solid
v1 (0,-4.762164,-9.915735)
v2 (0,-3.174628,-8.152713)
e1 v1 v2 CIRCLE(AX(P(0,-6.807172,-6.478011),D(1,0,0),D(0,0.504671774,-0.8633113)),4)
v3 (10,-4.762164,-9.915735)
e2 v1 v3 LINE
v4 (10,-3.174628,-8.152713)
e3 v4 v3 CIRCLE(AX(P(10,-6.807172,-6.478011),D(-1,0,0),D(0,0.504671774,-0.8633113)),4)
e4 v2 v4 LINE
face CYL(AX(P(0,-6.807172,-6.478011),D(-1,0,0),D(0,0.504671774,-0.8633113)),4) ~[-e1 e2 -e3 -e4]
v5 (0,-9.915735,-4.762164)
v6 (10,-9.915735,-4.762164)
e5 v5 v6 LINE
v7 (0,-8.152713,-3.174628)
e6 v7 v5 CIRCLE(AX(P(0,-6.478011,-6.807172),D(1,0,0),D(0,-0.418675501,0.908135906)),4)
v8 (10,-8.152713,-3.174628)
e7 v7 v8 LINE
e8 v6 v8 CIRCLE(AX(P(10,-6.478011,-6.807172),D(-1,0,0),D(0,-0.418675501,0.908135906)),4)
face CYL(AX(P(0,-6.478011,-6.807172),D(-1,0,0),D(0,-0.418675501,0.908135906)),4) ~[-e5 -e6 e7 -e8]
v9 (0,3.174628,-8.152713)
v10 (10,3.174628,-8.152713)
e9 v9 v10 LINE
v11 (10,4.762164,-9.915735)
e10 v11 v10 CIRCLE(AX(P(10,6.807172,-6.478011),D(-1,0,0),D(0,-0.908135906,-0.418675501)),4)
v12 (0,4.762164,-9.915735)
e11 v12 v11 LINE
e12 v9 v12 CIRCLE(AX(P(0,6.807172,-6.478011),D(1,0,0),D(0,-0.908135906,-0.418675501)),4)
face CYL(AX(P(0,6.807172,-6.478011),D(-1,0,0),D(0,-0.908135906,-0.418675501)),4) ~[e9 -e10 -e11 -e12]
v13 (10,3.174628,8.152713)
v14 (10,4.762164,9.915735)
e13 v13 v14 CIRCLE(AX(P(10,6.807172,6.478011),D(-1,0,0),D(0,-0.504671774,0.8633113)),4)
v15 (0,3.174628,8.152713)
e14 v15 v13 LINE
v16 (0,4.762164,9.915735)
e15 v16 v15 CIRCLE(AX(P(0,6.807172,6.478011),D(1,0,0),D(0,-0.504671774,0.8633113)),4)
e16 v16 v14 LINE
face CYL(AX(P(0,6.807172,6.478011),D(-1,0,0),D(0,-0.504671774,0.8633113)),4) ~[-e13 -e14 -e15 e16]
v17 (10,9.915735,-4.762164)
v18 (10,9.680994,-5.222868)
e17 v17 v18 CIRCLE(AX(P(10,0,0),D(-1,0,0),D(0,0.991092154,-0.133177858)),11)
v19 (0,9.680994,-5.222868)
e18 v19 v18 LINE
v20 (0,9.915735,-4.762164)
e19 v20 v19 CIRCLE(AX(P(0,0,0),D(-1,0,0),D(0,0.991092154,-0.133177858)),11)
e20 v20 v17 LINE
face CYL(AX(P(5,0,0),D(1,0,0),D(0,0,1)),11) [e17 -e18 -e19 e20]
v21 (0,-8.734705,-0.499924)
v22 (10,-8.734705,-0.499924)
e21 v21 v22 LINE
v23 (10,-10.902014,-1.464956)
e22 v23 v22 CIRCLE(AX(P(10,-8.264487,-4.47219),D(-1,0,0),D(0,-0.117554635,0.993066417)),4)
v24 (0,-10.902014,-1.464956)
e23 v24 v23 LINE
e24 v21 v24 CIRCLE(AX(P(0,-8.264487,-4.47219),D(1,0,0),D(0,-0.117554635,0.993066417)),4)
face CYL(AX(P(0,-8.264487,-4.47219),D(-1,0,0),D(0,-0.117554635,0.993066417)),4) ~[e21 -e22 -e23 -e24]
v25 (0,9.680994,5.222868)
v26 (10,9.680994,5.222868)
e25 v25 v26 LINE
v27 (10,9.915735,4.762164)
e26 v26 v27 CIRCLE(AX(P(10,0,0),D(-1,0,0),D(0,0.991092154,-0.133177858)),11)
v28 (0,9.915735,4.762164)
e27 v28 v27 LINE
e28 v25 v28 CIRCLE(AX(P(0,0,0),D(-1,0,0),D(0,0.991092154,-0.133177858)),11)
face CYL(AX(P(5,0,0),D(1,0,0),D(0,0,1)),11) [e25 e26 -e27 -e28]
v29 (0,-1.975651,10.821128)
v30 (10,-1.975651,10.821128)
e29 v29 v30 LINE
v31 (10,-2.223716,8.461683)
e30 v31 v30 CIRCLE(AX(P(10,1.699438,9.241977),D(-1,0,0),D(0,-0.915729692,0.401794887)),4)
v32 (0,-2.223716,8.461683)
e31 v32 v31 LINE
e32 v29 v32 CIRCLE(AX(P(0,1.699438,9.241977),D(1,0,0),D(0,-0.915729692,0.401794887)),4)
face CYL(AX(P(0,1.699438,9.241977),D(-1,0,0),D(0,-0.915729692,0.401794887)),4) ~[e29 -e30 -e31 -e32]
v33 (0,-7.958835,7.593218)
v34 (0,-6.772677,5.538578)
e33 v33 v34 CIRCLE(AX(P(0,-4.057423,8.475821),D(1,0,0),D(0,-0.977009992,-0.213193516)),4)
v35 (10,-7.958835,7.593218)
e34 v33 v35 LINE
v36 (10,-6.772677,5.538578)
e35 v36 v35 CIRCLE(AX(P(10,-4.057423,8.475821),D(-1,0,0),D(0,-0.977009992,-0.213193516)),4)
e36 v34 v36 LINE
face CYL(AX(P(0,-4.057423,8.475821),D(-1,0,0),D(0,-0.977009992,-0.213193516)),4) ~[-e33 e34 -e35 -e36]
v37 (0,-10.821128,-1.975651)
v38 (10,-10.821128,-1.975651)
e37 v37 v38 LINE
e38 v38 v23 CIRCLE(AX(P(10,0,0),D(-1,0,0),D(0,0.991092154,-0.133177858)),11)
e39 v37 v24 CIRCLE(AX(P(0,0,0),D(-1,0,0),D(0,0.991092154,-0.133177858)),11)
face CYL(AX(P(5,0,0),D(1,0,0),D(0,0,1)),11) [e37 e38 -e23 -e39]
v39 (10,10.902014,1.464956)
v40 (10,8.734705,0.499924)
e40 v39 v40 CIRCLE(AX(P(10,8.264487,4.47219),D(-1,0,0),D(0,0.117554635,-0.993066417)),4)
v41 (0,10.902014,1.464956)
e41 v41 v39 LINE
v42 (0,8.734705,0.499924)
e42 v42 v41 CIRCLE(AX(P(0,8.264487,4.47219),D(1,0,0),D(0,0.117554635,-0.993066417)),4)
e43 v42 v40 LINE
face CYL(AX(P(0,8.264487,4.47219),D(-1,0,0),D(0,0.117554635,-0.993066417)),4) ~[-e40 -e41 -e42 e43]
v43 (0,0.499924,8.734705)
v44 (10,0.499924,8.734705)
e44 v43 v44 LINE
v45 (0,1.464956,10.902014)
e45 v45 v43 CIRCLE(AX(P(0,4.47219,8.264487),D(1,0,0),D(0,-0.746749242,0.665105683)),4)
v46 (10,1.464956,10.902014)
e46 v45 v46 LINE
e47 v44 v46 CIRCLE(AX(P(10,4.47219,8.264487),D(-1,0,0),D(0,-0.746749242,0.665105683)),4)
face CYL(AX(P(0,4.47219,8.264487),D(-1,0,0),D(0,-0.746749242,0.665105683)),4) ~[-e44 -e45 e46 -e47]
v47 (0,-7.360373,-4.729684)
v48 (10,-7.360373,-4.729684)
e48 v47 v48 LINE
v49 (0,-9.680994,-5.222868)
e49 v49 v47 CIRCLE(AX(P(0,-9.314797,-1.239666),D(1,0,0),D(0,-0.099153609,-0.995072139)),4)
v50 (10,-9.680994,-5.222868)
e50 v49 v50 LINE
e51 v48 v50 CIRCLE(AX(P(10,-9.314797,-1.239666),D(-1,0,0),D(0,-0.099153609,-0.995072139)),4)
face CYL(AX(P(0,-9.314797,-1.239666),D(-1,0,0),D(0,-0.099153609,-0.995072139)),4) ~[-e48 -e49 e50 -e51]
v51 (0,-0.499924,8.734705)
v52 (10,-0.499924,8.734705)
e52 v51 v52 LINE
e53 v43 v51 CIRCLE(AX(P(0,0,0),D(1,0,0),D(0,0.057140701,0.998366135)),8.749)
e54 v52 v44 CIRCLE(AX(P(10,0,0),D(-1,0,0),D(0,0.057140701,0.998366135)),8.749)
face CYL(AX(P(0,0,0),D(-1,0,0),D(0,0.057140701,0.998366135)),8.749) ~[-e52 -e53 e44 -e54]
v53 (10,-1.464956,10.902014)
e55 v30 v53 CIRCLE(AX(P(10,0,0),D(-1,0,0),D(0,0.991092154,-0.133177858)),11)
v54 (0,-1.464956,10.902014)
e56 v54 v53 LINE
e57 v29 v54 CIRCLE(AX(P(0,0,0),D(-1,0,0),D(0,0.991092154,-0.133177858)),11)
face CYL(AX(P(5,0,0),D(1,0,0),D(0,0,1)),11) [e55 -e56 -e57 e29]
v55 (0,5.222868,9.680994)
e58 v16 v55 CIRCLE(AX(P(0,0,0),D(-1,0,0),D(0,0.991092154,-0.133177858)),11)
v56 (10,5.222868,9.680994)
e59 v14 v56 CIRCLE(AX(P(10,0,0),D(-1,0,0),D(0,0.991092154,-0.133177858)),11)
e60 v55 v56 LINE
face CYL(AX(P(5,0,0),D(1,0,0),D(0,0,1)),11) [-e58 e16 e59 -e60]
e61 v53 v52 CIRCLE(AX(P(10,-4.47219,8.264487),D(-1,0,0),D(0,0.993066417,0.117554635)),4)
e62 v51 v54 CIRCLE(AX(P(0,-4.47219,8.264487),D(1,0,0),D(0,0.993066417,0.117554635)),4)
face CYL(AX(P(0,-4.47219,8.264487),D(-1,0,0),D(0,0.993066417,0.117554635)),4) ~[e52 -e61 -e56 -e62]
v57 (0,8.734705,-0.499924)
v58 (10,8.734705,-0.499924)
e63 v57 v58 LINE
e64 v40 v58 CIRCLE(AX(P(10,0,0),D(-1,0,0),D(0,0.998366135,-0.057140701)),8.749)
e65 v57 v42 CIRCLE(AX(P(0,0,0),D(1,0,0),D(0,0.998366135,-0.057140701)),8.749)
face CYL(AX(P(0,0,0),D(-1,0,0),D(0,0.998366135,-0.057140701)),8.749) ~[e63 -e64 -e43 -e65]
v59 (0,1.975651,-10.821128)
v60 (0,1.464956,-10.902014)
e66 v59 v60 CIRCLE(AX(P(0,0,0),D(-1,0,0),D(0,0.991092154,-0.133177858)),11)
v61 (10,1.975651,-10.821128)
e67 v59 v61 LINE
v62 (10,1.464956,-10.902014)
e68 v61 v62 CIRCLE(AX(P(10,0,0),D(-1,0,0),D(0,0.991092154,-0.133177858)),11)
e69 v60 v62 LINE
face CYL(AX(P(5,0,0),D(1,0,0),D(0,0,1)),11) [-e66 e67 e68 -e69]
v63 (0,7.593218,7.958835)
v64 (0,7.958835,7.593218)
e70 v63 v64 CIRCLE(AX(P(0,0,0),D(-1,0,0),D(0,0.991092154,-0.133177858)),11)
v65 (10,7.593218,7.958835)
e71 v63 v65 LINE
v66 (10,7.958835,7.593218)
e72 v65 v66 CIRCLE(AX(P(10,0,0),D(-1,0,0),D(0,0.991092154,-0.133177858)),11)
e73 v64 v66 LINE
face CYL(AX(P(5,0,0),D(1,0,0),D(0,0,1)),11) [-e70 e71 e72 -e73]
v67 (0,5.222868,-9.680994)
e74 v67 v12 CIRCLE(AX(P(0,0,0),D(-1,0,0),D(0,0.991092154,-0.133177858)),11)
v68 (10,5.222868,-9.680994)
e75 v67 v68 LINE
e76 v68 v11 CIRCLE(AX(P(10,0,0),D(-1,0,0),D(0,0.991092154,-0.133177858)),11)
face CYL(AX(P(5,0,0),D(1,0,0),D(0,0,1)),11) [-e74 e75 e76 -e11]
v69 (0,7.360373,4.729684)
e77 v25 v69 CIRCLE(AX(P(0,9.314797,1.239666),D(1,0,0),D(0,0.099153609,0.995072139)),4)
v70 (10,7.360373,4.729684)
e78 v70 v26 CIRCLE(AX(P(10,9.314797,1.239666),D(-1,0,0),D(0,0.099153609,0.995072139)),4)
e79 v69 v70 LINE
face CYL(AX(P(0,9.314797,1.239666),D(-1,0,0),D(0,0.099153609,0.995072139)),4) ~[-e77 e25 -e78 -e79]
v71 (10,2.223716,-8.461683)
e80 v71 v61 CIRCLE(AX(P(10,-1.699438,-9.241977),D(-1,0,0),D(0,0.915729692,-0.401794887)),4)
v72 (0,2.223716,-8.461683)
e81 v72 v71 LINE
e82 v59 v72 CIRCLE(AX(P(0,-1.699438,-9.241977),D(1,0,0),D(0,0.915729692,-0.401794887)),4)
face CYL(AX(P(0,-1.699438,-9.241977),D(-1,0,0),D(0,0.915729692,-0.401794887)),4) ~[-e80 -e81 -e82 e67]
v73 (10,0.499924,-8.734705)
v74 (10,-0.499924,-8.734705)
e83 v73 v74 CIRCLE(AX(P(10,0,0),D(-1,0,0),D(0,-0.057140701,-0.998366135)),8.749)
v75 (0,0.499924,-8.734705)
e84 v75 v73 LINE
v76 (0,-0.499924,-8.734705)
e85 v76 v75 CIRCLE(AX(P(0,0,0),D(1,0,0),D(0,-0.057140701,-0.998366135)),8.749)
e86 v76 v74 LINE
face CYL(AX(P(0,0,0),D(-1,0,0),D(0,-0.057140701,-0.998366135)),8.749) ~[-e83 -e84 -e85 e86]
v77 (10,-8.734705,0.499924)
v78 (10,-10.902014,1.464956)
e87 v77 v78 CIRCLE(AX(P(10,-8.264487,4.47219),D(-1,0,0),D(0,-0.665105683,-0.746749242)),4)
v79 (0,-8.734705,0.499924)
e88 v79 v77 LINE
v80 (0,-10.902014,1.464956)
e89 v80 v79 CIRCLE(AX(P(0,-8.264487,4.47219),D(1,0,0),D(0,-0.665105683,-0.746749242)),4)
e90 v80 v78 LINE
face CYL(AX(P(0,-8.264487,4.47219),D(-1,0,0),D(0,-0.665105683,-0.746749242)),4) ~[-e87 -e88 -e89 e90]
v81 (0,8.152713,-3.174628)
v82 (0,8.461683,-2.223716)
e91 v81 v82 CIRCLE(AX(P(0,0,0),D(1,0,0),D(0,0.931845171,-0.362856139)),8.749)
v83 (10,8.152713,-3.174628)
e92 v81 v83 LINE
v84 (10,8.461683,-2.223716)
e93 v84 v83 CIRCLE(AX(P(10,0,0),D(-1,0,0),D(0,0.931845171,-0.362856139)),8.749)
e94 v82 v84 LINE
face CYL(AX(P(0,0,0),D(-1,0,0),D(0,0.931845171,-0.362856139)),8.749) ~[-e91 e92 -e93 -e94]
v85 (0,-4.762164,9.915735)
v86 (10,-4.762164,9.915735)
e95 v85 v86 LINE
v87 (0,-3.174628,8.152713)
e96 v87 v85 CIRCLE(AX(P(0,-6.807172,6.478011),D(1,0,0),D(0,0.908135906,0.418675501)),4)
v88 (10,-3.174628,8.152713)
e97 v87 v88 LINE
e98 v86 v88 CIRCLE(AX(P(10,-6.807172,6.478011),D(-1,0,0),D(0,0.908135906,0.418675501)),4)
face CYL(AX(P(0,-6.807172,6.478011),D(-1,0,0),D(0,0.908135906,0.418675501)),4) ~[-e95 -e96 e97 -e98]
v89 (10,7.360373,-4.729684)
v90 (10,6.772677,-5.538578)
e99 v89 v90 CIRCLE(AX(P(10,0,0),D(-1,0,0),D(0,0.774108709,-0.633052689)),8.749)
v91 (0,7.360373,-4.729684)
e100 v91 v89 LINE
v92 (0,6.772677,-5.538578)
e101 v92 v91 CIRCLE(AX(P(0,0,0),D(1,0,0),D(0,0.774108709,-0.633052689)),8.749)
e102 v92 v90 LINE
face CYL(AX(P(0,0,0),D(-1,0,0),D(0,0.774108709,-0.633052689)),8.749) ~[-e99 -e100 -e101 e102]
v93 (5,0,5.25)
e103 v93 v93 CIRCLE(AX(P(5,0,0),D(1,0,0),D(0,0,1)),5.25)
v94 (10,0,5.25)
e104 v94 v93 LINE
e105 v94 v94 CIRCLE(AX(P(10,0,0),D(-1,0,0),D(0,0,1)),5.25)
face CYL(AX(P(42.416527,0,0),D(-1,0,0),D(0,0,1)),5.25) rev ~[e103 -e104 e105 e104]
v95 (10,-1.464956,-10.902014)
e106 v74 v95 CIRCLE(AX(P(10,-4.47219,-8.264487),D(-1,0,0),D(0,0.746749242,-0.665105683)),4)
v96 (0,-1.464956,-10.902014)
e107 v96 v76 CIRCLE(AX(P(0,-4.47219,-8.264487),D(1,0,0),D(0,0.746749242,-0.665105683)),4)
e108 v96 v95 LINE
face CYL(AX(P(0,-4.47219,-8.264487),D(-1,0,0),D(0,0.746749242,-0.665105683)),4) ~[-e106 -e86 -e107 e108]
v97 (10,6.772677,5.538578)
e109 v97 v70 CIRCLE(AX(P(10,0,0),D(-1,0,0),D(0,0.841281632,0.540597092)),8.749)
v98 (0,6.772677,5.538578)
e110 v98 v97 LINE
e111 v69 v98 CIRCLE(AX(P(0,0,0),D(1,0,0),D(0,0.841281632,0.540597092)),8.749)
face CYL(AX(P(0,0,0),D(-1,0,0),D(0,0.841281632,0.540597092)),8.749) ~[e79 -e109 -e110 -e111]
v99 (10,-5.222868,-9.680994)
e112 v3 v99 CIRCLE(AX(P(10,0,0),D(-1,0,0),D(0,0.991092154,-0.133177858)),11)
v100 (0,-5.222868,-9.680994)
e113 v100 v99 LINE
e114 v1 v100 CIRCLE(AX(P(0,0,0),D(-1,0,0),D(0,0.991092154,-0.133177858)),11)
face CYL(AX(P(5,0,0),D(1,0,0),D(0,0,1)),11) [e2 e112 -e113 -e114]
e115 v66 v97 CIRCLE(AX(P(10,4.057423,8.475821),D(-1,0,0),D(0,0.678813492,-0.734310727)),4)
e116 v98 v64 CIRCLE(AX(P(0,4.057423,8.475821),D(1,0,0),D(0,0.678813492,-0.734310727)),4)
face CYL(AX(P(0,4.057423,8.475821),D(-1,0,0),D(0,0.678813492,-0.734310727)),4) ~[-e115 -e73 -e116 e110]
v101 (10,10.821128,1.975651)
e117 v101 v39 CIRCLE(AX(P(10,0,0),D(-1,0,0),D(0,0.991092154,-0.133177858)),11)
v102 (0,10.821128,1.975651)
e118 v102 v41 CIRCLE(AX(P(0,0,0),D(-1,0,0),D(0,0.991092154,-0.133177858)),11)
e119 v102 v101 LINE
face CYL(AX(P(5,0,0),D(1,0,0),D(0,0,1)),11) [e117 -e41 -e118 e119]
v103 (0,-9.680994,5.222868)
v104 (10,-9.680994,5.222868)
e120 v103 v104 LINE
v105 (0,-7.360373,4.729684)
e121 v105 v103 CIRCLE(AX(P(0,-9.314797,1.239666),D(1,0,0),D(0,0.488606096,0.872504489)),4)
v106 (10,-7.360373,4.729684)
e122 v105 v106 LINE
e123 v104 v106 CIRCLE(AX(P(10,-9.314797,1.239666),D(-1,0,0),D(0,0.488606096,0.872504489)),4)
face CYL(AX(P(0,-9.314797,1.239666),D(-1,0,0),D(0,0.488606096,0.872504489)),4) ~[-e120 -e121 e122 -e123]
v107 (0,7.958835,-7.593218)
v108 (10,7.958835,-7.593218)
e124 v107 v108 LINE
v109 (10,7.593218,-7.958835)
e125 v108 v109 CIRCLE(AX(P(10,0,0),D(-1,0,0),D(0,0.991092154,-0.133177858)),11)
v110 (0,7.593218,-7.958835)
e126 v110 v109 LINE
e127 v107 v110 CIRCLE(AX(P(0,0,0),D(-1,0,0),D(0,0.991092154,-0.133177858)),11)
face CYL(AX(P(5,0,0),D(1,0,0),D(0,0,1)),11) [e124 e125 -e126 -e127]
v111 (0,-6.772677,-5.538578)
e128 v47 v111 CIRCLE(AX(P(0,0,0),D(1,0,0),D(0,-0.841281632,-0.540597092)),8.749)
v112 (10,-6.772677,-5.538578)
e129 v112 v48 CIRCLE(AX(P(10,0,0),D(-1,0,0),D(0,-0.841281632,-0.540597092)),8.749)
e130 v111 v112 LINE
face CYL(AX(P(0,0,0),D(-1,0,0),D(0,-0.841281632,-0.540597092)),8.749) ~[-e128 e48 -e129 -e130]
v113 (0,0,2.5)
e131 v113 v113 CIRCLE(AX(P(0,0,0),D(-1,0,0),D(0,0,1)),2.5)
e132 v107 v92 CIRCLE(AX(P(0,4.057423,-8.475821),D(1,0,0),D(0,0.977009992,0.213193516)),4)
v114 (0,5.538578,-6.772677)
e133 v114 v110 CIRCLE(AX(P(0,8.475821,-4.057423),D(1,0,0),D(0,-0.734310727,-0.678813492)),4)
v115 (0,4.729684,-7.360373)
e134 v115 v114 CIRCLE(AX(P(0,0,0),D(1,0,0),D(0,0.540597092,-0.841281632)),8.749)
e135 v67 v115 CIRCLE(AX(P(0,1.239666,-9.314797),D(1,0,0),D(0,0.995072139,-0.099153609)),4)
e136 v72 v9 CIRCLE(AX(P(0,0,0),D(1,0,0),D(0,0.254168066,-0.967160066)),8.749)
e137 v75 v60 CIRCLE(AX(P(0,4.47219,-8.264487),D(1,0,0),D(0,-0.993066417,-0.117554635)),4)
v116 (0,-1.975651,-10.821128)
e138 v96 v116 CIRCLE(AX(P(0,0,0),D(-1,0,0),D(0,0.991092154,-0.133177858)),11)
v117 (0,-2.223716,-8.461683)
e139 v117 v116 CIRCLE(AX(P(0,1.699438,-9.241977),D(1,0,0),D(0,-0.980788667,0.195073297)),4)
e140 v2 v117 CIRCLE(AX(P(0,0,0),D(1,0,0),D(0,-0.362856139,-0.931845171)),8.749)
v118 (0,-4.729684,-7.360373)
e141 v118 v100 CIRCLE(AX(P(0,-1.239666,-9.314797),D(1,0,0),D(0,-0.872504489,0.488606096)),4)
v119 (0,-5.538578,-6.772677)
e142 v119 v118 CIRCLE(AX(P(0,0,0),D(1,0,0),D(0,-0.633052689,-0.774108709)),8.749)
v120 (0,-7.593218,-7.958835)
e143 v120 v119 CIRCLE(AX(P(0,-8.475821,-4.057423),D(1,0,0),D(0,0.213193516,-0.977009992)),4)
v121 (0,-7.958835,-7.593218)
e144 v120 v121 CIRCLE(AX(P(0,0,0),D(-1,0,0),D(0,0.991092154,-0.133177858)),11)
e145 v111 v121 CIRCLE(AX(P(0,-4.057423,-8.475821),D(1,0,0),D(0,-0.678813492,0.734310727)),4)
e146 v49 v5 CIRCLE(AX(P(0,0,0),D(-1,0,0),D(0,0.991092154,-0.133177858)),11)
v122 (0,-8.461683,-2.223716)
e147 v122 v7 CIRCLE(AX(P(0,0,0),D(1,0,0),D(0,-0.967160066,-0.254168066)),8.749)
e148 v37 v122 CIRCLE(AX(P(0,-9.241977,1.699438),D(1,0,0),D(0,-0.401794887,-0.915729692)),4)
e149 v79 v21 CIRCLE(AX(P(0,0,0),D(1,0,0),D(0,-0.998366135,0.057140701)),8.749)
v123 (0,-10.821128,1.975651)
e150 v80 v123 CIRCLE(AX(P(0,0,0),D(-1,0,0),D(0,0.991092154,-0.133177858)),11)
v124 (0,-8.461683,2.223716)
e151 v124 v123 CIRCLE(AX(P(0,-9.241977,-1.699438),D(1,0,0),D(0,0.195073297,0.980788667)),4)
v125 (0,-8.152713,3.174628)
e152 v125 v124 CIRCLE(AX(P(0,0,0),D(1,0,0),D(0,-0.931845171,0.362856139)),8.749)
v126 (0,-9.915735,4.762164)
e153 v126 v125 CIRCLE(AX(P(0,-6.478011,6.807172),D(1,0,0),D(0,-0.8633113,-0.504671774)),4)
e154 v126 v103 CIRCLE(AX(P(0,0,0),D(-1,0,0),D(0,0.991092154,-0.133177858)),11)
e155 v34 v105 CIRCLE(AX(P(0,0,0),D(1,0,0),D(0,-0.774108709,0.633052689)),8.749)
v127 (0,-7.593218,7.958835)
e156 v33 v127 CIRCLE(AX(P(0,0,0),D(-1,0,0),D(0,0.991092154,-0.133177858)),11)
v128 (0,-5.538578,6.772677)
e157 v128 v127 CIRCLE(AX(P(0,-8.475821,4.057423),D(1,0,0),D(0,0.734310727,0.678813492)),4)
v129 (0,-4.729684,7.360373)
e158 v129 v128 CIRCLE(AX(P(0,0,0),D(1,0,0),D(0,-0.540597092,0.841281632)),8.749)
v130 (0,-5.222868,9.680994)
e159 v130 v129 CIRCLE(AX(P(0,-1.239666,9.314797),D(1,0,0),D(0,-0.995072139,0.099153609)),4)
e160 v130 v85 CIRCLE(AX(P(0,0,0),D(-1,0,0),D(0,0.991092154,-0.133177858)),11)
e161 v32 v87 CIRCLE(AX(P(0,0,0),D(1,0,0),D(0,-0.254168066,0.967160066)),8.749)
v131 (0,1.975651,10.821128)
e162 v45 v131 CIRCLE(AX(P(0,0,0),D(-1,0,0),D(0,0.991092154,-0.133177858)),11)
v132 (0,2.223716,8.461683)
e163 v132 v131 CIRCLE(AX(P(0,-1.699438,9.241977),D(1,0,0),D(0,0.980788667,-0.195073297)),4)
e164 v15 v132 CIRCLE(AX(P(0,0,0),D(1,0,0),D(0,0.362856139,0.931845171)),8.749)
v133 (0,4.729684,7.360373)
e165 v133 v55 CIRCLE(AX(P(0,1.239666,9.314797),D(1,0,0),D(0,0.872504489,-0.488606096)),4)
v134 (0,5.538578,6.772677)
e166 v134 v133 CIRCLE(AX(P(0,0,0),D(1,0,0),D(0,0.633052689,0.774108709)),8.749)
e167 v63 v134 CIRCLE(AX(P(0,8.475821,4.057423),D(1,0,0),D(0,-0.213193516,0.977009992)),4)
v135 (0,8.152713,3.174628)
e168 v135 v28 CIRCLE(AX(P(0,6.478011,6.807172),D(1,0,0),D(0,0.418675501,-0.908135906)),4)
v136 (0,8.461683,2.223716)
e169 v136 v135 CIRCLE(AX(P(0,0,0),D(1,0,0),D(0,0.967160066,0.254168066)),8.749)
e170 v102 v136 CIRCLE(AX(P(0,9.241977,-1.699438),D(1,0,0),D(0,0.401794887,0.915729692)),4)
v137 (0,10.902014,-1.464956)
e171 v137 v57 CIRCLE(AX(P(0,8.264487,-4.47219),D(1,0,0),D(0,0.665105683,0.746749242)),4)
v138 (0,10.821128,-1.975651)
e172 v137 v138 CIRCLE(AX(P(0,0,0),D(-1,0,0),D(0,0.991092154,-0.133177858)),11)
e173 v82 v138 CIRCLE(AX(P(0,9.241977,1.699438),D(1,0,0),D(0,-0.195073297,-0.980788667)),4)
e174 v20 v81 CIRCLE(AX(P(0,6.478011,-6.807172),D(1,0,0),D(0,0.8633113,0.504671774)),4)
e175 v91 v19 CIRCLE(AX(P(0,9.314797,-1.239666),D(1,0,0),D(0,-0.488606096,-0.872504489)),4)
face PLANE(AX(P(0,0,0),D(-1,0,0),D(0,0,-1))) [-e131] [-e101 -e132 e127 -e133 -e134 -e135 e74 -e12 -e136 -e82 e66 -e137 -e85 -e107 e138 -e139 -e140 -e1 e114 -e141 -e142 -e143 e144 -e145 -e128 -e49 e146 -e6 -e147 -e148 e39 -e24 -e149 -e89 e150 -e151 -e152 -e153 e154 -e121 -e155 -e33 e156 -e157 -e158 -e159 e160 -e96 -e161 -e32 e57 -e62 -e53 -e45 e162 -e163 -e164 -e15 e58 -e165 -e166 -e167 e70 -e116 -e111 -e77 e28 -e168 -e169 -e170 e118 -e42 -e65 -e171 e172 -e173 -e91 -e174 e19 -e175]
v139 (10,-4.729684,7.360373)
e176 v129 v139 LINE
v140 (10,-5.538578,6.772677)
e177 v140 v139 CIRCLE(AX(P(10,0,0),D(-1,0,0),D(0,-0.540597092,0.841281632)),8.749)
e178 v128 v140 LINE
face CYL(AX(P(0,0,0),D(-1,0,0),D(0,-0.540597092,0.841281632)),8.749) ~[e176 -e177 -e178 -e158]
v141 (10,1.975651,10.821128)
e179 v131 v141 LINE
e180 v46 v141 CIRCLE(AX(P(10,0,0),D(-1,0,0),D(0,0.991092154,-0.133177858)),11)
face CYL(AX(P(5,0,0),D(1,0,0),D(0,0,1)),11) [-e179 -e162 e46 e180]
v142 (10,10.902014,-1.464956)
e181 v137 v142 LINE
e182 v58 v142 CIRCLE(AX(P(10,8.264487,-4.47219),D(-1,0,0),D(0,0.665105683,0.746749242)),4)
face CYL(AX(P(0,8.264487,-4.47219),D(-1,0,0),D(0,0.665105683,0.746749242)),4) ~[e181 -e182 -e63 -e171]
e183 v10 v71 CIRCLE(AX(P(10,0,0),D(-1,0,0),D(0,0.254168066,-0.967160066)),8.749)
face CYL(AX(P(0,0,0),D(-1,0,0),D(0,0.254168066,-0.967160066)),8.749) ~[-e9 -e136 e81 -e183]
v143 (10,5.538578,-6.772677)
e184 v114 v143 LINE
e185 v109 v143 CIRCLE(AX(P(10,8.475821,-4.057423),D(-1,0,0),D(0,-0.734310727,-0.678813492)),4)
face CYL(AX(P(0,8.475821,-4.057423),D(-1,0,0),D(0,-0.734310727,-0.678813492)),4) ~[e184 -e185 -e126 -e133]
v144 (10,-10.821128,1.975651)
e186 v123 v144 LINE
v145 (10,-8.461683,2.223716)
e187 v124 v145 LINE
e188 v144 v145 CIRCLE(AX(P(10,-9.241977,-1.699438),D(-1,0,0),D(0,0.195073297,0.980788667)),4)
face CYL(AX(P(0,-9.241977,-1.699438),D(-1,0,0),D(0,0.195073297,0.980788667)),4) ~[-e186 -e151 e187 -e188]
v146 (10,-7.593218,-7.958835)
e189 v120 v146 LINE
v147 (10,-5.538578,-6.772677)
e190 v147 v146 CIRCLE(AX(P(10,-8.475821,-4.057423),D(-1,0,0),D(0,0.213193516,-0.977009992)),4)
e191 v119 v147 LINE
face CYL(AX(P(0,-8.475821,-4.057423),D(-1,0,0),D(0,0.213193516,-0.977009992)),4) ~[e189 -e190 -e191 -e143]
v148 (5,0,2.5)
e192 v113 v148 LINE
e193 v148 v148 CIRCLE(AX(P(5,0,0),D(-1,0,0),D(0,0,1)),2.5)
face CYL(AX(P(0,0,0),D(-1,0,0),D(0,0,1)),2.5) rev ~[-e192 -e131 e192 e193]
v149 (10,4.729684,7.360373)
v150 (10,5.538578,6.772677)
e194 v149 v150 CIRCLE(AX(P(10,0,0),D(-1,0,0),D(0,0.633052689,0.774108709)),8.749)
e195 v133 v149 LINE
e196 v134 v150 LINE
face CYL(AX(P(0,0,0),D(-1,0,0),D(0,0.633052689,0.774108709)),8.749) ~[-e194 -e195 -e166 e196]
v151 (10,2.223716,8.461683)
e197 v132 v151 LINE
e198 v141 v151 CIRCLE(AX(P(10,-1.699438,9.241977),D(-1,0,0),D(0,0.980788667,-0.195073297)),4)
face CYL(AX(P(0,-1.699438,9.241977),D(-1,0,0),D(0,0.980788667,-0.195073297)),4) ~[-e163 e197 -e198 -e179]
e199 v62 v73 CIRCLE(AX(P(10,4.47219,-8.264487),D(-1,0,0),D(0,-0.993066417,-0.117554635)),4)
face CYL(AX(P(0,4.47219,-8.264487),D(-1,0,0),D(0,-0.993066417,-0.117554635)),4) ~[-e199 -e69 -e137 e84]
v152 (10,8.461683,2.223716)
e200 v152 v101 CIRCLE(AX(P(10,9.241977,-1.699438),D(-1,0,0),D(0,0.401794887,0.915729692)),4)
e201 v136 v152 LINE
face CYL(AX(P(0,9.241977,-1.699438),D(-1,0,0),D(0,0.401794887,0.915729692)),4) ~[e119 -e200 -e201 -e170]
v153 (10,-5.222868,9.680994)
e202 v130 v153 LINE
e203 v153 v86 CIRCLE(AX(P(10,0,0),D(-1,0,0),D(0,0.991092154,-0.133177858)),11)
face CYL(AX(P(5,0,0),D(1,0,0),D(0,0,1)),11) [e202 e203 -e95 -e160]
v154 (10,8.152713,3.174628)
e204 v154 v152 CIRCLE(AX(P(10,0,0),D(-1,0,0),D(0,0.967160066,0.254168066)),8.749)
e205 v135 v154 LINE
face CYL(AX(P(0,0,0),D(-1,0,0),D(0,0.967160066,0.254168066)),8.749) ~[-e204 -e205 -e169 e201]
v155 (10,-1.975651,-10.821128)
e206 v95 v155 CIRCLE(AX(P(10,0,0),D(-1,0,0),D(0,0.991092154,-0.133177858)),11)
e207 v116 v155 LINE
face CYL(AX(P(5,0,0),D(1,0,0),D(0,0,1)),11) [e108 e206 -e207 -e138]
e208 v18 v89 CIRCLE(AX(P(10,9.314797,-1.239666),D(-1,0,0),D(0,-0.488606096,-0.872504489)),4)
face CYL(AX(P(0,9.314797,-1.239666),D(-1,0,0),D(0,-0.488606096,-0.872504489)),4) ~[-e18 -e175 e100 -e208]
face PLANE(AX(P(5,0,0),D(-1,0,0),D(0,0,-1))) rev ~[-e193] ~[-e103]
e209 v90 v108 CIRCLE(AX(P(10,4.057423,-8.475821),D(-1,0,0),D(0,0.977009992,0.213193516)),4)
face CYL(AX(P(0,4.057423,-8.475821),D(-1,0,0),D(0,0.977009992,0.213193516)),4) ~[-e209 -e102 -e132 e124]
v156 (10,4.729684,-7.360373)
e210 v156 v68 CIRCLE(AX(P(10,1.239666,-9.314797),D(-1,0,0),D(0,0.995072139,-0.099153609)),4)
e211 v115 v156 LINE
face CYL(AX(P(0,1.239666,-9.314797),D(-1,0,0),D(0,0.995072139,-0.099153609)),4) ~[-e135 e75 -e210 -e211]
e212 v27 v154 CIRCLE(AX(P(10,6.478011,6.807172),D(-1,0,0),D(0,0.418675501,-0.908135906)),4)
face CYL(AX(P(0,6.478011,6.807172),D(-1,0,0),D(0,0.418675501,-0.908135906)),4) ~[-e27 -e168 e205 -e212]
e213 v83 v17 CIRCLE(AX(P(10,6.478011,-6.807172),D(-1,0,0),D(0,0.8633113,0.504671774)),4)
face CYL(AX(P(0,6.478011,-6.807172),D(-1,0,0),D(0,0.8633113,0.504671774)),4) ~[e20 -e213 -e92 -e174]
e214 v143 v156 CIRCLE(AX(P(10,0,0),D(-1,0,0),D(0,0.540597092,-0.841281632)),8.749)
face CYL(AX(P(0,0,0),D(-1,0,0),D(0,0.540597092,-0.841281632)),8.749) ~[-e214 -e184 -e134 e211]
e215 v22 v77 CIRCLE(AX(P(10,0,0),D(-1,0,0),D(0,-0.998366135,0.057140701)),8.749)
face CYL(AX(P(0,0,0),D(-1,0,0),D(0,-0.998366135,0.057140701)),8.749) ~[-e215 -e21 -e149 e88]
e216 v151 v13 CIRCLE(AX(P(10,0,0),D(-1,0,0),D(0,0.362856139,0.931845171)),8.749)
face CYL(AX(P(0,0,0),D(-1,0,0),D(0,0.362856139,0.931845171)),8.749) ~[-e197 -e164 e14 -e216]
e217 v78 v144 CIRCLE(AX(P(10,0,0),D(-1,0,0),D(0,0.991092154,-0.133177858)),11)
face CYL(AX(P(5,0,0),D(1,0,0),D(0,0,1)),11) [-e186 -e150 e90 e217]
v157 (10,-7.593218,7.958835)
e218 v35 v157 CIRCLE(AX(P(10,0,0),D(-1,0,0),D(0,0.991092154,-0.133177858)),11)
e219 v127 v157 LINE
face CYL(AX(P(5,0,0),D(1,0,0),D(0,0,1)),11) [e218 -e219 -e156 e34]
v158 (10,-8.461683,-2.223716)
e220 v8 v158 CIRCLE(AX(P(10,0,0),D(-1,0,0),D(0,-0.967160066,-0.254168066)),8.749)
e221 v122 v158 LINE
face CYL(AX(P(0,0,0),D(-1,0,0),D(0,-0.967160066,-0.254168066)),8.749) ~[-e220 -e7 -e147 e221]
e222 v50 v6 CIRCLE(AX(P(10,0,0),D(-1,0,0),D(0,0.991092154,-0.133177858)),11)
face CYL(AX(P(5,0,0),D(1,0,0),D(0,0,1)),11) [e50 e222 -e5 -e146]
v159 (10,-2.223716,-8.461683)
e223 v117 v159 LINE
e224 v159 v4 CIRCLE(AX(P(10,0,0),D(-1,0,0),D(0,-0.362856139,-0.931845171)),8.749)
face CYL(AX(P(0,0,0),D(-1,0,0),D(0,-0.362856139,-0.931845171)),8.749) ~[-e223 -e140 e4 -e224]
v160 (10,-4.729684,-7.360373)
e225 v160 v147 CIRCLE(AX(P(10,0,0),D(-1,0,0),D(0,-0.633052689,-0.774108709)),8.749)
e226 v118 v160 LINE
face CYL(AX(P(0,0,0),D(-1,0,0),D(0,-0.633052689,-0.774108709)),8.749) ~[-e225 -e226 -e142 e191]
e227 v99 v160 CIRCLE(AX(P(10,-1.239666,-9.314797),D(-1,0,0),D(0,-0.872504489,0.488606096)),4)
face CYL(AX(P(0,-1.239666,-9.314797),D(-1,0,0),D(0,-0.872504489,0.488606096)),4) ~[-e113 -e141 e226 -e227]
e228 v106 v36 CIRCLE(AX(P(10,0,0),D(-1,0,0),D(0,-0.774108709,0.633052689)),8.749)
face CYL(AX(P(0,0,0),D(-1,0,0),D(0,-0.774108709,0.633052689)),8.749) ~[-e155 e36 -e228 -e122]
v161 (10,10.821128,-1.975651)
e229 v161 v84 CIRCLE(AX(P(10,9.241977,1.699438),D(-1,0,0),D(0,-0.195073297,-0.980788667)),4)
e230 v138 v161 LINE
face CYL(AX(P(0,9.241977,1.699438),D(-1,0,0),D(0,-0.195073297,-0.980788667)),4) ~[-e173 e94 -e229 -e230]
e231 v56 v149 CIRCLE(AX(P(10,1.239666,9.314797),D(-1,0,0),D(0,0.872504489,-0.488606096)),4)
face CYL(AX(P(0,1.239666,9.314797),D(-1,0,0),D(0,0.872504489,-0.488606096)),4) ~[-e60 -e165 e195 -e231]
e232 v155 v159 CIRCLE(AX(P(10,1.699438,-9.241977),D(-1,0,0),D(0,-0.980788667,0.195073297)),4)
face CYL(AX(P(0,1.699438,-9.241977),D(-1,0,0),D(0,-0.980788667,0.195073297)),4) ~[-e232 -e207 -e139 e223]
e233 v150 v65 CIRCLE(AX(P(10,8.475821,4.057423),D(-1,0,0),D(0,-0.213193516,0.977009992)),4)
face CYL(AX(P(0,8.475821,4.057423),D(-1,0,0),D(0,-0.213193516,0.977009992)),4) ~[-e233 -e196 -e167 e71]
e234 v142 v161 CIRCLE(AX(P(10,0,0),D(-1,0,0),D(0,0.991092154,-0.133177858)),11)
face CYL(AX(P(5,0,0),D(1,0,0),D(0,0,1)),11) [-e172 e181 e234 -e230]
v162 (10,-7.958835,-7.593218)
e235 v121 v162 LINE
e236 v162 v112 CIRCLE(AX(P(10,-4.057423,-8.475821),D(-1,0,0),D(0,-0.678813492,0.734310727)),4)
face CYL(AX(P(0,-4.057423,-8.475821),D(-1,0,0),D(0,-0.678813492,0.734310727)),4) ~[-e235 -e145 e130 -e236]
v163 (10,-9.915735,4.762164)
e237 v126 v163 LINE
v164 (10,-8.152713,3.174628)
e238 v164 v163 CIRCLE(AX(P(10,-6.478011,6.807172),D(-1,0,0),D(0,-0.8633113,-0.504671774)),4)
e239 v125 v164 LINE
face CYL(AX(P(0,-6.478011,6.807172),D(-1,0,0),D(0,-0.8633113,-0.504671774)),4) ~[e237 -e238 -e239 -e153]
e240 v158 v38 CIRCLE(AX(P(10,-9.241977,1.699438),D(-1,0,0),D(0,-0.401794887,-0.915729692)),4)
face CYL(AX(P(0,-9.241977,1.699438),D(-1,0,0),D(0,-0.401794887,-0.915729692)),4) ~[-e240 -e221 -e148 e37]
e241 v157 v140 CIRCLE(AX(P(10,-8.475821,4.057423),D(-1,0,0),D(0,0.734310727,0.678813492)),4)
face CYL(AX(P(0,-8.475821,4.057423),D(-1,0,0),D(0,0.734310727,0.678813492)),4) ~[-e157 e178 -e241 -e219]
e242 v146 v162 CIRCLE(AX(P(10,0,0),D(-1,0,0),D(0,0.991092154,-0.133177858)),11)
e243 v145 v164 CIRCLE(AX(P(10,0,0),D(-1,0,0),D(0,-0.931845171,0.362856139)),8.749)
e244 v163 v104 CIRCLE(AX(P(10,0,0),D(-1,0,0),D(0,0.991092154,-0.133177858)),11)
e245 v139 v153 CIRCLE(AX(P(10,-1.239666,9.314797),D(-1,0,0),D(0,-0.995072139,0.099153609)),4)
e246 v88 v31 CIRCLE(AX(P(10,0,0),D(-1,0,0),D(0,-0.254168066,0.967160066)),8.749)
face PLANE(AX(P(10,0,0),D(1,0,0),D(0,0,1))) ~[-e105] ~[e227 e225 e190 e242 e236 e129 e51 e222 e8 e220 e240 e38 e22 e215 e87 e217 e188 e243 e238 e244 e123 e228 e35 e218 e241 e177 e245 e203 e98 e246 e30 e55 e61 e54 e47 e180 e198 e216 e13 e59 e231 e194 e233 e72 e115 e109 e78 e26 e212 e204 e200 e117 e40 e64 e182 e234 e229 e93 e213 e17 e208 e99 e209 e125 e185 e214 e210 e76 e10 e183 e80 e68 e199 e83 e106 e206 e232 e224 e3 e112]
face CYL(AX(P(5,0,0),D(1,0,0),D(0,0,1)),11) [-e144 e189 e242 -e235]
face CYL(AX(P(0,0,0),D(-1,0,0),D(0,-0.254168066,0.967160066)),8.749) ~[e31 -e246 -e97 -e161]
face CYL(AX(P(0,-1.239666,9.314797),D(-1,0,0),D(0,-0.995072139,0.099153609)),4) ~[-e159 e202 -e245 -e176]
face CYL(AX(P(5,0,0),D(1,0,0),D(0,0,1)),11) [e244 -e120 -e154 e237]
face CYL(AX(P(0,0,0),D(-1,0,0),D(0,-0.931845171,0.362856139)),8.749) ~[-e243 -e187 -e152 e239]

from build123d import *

# Parameters (mm, degrees)
BASPROSKE_W                   = 10
BASPROSKE_H                   = 11
TOOTHCUT_DEPTH                = 19.493242009
TEETHCUTS_COUNT               = 20
TEETHCUTS_ANGLE               = 342
BORSKE_R                      = 0.4
BORE_DEPTH                    = 50.0000508
TALADRO_DE_MARGEN_PARA_M101_D = 10.5
CROQUIS3_R                    = 5.25
CROQUIS3_R_2                  = 2.5
SALIENTE_EXTRUIR1_DEPTH       = 5


with BuildPart() as part:
    # BasProSke → Base-Revolve (revolve)
    with BuildSketch(Plane(origin=(0, 0, 0), x_dir=(1, 0, 0), z_dir=(0, 1, 0)), mode=Mode.PRIVATE) as base_revolve_sk:
        with Locations((5, 5.5)):
            Rectangle(BASPROSKE_W, BASPROSKE_H)
    revolve(base_revolve_sk.sketch.rotate(Axis((-10, 0, 0), (1, 0, 0)), 180), axis=Axis((-10, 0, 0), (1, 0, 0)))

    # TooCutSke → ToothCut (cut, through all)
    with BuildSketch(Plane(origin=(0, 0, 0), x_dir=(0, 0, -1), z_dir=(1, 0, 0))):
        with BuildLine():
            ThreePointArc((0.499924007, 8.734705318), (0, 8.749), (-0.499924007, 8.734705318))
            ThreePointArc((-0.499924007, 8.734705318), (-0.824302243, 9.905497836), (-1.485192705, 10.924909509))
            ThreePointArc((-1.485192705, 10.924909509), (0, 11.0254), (1.485192705, 10.924909509))
            ThreePointArc((1.485192705, 10.924909509), (0.824302243, 9.905497836), (0.499924007, 8.734705318))
        make_face()
    toothcut = extrude(amount=TOOTHCUT_DEPTH, mode=Mode.SUBTRACT)

    # TeethCuts: ToothCut ×20 about axis
    teethcuts_axis = Axis((-10, 0, 0), (1, 0, 0))
    for i in range(1, TEETHCUTS_COUNT):
        add(toothcut.rotate(teethcuts_axis, i * TEETHCUTS_ANGLE / (TEETHCUTS_COUNT - 1)), mode=Mode.SUBTRACT)

    # BorSke → Bore (cut, symmetric)
    with BuildSketch(Plane(origin=(0, 0, 0), x_dir=(0, 0, -1), z_dir=(1, 0, 0))):
        with Locations(Location((0, 0, 0), (0, 0, 180))):
            Circle(BORSKE_R)
    extrude(amount=BORE_DEPTH, both=True, mode=Mode.SUBTRACT)

    # Taladro de margen para M101 (through all)
    with Locations(Plane(origin=(10, 0, 0), x_dir=(0, 0, -1), z_dir=(1, 0, 0))):
        with Locations((0, 0)):
            Hole(TALADRO_DE_MARGEN_PARA_M101_D / 2)

    # Croquis3 → Saliente-Extruir1 (add)
    with BuildSketch(Plane.ZY):
        with Locations(Location((0, 0, 0), (0, 0, 180))):
            Circle(CROQUIS3_R)
        Circle(CROQUIS3_R_2, mode=Mode.SUBTRACT)
    extrude(amount=-SALIENTE_EXTRUIR1_DEPTH)


solid = part.part
